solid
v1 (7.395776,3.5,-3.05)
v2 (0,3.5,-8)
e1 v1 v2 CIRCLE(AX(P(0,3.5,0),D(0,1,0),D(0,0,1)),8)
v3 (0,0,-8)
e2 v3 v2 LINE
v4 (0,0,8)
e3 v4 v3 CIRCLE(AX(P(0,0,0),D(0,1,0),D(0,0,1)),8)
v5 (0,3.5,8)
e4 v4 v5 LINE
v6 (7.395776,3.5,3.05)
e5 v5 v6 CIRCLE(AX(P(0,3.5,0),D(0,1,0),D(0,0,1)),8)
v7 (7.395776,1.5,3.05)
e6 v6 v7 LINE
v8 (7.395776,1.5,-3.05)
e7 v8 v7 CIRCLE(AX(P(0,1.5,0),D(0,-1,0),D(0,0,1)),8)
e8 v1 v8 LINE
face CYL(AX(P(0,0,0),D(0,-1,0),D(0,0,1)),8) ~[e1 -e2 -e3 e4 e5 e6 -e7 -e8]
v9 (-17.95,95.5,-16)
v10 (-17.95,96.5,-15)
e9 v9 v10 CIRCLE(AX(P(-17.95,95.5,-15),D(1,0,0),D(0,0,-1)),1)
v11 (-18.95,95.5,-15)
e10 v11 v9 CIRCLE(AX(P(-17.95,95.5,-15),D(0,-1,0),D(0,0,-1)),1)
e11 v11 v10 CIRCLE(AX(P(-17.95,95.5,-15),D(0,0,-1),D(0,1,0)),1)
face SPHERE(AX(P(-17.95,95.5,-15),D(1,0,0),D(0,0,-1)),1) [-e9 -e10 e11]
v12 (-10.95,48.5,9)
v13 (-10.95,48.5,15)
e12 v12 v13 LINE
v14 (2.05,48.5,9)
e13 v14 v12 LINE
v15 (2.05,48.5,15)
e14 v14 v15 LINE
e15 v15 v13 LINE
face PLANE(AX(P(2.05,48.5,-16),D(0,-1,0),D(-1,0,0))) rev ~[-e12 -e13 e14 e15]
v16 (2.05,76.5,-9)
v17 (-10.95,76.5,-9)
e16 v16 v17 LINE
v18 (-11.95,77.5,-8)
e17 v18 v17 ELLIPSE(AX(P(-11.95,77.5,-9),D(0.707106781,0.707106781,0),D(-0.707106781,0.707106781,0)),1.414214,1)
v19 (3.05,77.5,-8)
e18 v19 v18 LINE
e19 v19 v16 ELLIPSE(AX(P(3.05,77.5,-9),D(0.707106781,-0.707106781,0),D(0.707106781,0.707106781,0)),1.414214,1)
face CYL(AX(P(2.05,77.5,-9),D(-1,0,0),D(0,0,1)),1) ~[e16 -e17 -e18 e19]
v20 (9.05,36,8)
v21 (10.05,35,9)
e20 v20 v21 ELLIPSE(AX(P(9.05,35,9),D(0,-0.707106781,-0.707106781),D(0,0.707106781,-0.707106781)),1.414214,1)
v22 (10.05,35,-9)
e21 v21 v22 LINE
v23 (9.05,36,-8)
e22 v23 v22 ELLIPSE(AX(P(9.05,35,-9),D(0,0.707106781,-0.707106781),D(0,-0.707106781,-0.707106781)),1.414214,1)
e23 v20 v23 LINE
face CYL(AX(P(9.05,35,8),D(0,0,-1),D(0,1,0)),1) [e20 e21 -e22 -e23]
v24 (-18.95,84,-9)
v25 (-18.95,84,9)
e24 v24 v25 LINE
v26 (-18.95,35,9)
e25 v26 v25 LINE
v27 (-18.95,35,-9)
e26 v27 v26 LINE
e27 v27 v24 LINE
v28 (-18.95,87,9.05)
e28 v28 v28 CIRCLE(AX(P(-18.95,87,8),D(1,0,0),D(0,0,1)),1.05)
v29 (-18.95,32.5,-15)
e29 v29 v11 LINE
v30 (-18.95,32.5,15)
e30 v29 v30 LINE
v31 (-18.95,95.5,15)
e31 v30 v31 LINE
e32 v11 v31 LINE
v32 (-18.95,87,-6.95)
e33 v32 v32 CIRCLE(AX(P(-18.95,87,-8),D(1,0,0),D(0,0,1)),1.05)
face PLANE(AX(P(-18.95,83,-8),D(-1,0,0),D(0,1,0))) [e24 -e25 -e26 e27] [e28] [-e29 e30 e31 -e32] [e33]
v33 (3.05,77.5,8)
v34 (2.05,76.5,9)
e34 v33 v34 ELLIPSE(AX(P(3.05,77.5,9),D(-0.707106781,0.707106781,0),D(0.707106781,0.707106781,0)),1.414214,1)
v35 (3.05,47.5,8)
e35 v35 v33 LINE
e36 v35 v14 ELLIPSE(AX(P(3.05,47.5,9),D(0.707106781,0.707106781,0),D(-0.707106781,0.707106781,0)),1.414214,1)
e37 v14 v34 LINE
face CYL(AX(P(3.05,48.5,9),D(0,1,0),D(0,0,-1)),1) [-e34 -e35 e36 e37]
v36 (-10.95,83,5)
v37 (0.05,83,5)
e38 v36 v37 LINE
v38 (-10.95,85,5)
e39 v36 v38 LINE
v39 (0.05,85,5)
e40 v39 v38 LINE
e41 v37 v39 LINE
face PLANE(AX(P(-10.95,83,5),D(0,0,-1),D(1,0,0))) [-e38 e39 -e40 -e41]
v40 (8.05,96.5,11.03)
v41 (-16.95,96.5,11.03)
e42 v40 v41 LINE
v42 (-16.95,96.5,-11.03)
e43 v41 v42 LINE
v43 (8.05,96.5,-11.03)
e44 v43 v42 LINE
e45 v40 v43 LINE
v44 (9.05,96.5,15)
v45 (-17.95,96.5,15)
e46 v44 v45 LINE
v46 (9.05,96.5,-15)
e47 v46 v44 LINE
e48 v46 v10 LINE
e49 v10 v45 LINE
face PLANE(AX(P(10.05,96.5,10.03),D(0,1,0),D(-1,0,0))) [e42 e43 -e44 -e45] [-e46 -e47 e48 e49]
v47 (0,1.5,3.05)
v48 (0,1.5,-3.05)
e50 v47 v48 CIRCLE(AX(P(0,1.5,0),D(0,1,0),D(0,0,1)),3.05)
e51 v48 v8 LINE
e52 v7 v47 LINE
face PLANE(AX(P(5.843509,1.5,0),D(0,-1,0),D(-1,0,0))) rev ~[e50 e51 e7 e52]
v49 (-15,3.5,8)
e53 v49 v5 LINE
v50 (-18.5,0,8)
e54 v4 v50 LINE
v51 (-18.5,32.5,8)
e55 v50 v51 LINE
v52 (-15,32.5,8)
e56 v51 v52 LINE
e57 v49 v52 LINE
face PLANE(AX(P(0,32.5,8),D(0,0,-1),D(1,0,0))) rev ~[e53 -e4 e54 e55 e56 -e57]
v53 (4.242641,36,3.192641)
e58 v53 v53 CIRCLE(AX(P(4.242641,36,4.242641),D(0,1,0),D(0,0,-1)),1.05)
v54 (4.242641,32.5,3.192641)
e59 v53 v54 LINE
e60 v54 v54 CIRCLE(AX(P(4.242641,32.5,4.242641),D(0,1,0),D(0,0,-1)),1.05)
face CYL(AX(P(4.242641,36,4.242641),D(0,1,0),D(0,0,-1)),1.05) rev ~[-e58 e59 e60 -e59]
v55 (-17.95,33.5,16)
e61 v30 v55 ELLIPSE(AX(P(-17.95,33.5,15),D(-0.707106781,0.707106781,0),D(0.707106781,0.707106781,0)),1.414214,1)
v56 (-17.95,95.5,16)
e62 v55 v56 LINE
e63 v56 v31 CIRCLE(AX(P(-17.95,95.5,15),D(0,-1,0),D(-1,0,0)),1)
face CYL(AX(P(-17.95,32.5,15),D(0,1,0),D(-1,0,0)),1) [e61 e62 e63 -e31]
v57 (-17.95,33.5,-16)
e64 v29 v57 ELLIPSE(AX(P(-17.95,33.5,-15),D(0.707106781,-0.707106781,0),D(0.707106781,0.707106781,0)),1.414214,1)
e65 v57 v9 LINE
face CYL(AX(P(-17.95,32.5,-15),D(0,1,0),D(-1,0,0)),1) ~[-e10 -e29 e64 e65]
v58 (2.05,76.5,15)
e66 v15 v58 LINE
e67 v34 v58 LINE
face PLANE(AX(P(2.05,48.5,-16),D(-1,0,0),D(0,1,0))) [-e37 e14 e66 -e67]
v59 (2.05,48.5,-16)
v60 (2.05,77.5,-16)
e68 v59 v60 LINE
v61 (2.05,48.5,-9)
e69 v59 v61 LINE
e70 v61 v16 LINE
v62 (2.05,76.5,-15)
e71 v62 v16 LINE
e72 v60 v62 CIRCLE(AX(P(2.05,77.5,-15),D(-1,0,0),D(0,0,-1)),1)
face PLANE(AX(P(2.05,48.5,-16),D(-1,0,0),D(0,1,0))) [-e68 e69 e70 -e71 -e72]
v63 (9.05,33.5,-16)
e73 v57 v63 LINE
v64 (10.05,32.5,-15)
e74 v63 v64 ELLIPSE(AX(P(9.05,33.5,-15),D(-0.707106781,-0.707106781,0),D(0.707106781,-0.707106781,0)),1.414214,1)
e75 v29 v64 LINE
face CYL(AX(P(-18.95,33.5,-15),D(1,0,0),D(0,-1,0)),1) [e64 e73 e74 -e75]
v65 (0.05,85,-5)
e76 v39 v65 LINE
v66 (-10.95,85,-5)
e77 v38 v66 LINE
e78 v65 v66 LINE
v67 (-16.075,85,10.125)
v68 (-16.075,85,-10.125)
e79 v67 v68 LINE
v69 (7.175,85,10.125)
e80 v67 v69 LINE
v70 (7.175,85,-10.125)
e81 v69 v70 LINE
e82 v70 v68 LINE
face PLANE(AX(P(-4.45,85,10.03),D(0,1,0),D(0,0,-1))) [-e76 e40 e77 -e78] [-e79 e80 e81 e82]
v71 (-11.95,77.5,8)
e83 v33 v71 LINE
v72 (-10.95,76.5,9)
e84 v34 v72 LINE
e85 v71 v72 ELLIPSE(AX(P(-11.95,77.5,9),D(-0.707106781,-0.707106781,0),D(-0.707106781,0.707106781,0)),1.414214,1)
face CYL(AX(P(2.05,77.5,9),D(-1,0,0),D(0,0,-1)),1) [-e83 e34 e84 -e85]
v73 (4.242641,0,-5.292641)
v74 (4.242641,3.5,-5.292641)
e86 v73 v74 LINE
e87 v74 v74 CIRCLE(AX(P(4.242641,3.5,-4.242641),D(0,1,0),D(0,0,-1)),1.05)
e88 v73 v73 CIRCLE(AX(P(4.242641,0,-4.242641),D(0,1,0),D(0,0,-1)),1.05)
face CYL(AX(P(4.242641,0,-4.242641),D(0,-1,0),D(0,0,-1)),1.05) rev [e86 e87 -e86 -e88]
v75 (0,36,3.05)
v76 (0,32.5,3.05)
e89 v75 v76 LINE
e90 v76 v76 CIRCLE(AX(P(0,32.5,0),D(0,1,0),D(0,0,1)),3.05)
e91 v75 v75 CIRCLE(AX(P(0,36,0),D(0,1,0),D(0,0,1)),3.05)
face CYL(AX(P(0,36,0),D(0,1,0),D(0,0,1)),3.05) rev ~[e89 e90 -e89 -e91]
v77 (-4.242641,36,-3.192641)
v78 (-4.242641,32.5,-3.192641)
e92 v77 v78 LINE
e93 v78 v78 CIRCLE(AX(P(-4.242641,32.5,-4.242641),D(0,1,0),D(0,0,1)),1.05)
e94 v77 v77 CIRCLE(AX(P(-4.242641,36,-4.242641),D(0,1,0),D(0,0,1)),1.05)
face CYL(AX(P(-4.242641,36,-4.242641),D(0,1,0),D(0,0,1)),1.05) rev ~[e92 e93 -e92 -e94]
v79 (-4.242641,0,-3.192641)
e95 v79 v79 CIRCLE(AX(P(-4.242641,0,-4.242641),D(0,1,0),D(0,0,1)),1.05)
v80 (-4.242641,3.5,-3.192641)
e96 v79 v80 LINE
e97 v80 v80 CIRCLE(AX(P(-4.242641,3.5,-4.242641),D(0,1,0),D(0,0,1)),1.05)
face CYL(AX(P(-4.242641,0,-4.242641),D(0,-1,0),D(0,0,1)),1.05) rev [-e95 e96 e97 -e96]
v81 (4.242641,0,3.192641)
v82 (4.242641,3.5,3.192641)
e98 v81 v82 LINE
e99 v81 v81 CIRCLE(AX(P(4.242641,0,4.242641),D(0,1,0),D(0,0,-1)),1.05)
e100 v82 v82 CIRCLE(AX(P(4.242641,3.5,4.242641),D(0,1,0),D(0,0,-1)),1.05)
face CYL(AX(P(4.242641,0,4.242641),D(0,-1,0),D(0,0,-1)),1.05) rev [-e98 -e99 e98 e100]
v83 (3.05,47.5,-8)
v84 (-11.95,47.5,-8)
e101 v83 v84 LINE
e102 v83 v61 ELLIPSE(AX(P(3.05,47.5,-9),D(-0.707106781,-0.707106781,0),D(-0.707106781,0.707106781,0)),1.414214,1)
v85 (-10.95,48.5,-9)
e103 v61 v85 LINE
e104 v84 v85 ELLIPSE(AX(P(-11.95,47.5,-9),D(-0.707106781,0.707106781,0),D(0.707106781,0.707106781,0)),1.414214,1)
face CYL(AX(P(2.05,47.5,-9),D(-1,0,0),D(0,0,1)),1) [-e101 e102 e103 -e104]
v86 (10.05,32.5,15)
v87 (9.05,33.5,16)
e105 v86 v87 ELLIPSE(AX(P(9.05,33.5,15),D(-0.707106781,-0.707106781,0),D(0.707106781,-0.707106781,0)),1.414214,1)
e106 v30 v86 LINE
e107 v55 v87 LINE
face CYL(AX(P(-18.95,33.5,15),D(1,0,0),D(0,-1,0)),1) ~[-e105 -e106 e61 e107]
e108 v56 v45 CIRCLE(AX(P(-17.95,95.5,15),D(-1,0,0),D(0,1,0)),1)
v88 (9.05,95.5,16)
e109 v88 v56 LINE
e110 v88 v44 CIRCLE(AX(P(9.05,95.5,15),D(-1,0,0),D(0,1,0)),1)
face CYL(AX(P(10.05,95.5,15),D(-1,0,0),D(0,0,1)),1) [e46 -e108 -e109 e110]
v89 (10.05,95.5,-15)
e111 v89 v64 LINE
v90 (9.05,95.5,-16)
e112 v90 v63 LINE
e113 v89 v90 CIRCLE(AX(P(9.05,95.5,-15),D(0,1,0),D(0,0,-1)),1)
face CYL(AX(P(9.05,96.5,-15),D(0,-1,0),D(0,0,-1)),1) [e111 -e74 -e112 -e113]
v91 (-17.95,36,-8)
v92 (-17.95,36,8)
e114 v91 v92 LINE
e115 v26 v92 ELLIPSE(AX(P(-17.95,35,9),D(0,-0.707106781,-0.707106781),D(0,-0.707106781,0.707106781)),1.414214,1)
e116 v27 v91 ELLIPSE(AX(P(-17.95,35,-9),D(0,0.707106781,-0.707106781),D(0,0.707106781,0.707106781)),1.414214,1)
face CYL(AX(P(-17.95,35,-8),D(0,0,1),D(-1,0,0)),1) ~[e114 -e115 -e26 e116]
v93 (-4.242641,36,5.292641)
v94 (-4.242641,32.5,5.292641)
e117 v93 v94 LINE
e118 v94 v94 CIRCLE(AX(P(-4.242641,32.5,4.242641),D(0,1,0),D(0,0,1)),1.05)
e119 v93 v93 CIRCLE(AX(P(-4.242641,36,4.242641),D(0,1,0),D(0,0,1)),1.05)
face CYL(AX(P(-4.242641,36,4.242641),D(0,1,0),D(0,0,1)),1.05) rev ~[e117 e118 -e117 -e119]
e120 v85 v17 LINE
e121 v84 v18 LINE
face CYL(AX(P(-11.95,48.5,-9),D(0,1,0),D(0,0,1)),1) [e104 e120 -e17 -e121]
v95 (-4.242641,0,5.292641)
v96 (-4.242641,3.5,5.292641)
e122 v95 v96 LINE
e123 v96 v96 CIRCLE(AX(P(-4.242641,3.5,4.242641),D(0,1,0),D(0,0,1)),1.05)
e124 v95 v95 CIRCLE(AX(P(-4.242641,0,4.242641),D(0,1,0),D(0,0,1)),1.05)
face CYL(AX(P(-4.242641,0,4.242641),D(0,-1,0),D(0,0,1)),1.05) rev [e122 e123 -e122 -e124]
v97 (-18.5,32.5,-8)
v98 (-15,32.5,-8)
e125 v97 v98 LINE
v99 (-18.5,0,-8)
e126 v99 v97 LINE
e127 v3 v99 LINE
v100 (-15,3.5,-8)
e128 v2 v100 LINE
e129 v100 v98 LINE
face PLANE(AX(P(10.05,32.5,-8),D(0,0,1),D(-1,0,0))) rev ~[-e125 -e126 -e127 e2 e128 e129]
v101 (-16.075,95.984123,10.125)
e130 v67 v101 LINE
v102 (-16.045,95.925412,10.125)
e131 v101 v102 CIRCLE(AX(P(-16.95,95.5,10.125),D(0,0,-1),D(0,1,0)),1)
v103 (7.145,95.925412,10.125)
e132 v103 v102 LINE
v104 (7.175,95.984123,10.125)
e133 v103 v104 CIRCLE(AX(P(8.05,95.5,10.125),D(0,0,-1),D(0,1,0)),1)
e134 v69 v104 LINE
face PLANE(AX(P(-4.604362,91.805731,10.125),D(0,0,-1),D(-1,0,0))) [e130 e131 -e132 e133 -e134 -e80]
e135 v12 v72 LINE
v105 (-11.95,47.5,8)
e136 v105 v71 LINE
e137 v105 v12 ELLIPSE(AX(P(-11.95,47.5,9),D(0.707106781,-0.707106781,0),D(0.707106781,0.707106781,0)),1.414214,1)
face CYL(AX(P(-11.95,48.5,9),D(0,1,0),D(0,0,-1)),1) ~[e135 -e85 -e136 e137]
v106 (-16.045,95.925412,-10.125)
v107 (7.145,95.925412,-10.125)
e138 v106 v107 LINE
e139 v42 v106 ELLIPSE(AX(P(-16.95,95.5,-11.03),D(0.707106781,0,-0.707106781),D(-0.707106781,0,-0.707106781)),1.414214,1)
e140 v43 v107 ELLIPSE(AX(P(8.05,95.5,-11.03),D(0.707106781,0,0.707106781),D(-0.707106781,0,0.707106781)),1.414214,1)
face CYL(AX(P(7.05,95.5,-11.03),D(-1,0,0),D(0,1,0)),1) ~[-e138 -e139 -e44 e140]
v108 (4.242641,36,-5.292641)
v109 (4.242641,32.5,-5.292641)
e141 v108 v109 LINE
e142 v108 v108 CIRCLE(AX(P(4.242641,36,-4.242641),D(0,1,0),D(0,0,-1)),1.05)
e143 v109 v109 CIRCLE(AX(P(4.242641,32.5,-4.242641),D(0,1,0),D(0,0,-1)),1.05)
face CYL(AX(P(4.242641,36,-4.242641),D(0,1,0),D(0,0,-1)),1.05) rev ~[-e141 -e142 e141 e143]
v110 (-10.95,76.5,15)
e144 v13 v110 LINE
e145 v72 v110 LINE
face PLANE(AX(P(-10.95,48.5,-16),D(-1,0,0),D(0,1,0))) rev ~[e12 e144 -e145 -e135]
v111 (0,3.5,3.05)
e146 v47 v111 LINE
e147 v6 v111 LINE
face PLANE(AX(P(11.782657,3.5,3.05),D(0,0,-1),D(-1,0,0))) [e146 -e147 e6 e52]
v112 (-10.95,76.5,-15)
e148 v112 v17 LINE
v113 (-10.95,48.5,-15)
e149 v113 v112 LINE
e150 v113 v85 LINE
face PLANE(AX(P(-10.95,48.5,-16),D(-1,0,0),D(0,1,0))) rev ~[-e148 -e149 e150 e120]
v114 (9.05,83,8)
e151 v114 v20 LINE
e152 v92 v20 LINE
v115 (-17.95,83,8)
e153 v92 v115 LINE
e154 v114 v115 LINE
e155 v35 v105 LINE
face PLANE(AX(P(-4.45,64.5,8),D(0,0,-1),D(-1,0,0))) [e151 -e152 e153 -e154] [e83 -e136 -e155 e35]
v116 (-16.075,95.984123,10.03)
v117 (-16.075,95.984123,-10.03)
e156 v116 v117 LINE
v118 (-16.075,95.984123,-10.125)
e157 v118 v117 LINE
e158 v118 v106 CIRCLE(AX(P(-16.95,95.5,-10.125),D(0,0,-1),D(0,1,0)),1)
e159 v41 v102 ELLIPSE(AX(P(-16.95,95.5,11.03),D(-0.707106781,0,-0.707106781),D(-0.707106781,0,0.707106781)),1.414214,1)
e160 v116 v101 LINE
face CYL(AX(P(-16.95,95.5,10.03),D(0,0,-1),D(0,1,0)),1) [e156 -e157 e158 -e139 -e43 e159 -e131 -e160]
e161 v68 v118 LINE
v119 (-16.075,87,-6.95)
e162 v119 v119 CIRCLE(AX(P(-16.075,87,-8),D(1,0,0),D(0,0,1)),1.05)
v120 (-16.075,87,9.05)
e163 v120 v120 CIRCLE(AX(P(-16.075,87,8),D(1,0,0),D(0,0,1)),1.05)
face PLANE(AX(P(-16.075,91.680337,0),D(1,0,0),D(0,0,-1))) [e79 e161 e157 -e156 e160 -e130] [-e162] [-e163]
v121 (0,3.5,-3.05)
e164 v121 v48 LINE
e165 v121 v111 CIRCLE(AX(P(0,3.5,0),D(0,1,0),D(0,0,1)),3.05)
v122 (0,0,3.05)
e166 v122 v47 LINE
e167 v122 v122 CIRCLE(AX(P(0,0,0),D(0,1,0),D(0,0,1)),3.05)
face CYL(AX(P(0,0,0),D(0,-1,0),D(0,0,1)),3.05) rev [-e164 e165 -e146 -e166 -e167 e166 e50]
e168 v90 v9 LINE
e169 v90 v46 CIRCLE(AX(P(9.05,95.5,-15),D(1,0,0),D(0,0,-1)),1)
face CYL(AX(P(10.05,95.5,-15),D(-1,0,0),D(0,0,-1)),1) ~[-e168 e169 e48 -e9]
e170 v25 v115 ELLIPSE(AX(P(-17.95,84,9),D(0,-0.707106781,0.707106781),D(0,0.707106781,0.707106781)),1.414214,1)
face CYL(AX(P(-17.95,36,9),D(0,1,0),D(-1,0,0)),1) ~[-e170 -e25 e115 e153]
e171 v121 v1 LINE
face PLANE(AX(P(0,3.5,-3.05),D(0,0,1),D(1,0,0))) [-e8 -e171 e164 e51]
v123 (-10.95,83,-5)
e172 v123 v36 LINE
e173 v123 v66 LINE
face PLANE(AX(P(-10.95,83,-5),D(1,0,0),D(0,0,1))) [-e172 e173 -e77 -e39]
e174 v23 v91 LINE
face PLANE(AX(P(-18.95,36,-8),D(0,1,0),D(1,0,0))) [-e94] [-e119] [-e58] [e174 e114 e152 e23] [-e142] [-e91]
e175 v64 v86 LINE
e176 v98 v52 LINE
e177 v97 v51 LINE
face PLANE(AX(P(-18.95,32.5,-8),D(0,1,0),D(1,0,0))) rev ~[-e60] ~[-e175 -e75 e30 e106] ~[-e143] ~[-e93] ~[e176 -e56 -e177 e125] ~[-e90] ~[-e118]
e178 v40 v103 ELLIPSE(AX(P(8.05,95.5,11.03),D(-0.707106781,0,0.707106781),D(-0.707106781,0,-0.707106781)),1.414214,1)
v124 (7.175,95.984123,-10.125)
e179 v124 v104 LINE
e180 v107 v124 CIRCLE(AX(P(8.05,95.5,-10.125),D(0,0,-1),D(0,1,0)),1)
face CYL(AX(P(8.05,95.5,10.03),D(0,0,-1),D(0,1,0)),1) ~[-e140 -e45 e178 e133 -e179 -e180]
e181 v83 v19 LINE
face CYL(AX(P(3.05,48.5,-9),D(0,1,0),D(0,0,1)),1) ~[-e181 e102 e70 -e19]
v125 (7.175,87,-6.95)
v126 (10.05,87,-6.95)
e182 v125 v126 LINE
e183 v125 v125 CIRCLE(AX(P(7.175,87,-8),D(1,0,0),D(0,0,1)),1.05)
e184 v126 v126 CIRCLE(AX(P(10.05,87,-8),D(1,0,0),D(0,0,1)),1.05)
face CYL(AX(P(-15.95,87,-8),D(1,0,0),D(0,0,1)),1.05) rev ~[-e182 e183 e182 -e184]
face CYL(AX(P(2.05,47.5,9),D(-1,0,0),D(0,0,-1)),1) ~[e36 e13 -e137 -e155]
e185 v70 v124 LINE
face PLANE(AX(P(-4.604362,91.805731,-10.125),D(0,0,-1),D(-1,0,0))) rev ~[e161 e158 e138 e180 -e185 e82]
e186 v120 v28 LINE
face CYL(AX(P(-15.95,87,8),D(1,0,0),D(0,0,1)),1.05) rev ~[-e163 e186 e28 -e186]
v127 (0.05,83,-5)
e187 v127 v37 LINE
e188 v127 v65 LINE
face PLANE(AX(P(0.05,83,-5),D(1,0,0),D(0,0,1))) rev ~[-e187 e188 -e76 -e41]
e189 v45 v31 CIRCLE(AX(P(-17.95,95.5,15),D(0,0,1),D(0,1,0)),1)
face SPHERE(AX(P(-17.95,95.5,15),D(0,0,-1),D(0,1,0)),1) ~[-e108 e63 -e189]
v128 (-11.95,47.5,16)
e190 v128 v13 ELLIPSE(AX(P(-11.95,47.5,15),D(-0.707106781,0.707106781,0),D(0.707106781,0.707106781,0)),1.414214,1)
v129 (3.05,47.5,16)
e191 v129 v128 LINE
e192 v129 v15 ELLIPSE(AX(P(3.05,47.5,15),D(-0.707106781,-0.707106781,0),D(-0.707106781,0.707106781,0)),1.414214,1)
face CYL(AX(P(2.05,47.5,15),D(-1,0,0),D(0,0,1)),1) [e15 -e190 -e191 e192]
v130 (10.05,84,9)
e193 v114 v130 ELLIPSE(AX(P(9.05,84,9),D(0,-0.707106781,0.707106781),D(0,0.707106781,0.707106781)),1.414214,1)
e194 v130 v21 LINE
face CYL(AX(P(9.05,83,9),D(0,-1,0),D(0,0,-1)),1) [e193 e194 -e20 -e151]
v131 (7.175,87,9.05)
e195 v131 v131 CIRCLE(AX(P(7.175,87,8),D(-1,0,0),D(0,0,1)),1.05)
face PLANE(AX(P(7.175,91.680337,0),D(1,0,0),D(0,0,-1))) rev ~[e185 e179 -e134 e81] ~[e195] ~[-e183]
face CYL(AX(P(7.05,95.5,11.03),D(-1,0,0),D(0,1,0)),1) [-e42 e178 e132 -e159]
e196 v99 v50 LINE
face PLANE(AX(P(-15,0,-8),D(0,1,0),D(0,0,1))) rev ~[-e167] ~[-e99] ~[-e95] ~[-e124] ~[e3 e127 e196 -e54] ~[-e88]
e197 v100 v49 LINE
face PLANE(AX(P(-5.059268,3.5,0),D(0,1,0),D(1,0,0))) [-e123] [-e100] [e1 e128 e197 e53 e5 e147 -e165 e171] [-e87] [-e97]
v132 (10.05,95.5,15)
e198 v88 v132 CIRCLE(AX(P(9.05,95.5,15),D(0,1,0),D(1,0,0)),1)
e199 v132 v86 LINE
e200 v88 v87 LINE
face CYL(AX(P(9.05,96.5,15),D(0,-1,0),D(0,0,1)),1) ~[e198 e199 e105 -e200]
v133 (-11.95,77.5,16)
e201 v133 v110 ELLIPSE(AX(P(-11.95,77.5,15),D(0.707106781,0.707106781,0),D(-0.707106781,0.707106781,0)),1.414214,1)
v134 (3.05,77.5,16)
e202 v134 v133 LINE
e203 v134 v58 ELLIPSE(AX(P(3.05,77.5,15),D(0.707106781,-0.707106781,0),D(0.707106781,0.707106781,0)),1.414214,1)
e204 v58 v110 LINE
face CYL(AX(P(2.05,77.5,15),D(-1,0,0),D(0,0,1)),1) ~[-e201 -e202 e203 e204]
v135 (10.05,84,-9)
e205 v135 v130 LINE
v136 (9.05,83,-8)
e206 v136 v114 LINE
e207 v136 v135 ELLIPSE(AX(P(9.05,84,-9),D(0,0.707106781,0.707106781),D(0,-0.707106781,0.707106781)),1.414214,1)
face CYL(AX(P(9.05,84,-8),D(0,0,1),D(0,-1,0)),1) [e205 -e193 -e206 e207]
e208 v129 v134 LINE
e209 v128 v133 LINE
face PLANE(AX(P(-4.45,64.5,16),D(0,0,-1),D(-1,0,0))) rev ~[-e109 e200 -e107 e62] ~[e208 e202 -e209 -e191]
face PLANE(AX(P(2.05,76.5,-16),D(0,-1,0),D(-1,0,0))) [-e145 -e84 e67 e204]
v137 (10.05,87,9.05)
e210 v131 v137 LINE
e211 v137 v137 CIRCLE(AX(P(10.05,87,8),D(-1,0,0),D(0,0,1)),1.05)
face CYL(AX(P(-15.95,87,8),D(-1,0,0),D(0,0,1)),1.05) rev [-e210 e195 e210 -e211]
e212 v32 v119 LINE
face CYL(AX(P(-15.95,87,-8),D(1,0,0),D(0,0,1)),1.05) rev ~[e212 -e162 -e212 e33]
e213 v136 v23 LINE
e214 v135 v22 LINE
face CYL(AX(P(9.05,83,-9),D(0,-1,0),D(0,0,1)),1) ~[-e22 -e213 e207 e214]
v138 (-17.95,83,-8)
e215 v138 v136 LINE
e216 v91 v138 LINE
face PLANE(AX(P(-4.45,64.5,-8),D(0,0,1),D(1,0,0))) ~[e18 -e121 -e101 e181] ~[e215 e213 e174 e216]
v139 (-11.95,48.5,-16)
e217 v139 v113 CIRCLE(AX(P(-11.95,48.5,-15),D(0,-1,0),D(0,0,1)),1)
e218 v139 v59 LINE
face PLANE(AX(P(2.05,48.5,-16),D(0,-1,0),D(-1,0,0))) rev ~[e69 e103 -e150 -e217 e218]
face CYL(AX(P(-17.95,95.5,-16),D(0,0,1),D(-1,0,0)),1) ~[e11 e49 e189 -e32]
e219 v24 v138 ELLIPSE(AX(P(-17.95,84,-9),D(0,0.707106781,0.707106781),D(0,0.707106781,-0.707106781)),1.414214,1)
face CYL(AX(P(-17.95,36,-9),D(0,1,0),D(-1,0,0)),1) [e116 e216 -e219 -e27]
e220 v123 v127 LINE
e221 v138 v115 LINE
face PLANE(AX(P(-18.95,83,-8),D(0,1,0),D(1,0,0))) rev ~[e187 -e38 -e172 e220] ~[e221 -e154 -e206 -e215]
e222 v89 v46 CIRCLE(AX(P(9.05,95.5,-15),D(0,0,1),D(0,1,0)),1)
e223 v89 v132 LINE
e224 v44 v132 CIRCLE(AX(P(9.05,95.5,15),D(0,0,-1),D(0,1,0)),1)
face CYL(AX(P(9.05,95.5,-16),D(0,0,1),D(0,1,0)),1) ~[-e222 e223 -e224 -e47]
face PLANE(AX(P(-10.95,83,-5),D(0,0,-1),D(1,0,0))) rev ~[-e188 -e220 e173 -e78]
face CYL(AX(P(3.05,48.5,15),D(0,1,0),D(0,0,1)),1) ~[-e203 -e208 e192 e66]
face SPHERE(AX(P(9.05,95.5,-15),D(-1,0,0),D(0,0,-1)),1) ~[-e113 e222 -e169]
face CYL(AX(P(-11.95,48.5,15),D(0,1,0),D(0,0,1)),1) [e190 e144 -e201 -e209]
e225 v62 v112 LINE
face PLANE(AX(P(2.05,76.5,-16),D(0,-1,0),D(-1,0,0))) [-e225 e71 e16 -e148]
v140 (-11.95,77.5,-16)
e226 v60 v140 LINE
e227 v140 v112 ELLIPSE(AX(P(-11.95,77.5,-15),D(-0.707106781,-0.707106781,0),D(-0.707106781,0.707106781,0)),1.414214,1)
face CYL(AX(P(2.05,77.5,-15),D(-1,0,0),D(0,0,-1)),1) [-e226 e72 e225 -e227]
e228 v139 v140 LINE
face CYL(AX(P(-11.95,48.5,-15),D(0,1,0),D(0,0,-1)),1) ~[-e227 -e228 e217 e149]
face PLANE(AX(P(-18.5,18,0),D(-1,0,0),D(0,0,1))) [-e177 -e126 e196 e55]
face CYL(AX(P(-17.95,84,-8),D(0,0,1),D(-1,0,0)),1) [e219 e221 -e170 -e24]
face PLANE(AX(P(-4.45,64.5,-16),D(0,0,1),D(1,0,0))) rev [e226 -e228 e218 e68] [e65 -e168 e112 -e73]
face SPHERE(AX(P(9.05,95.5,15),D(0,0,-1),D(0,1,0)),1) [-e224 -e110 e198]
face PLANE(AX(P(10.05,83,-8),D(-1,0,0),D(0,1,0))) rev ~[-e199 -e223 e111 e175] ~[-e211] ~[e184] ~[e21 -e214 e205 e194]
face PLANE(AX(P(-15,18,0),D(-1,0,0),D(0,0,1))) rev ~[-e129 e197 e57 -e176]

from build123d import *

# Parameters (mm, degrees)
SKETCH_1_R          = 3.05
SKETCH_1_R_2        = 1.05
EXTRUDE_1_DEPTH     = 3.5
SKETCH_2_W          = 16
SKETCH_2_H          = 36
EXTRUDE_2_DEPTH     = 3.5
EXTRUDE_4_DEPTH     = 3.5
EXTRUDE_5_DEPTH     = 8
CUT_EXTRUDE_1_REACH = 104.026
SKETCH_6_W          = 2.03
SKETCH_6_H          = 11.5
EXTRUDE_6_REACH     = 103.73
SKETCH_7_W          = 3
SKETCH_7_H          = 11.5
EXTRUDE_7_REACH     = 103.229
SKETCH_8_W          = 0.45
SKETCH_8_H          = 3.5
EXTRUDE_8_REACH     = 103.229
SKETCH_9_W          = 29
SKETCH_9_H          = 2
SKETCH_10_R         = 1.05
CUT_EXTRUDE_2_DEPTH = 31.75
CUT_EXTRUDE_3_DEPTH = 2
CUT_EXTRUDE_4_REACH = 88.626
SKETCH_13_W         = 11
SKETCH_13_H         = 10
SKETCH_14_W         = 13
SKETCH_14_H         = 28
CUT_EXTRUDE_5_DEPTH = 104.418337349
FILLET_1_R          = 1
CUT_EXTRUDE_6_DEPTH = 11.625
CUT_EXTRUDE_7_DEPTH = 10.125
CUT_EXTRUDE_8_DEPTH = 11.55


with BuildPart() as part:
    # 草图1 → 凸台-拉伸1 (new body)
    with BuildSketch(Plane(origin=(0, 0, 0), x_dir=(1, 0, 0), z_dir=(0, 1, 0))):
        with BuildLine():
            Line((0, 8), (-15, 8))
            Line((-15, 8), (-15, -8))
            Line((-15, -8), (0, -8))
            ThreePointArc((0, -8), (8, 0), (0, 8))
        make_face()
        with Locations(Location((0, 0, 0), (0, 0, 270))):
            Circle(SKETCH_1_R, mode=Mode.SUBTRACT)
        with Locations(Location((-4.242640687, 4.242640687, 0), (0, 0, 270))):
            Circle(SKETCH_1_R_2, mode=Mode.SUBTRACT)
        with Locations(Location((-4.242640687, -4.242640687, 0), (0, 0, 270))):
            Circle(SKETCH_1_R_2, mode=Mode.SUBTRACT)
        with Locations(Location((4.242640687, -4.242640687, 0), (0, 0, 90))):
            Circle(SKETCH_1_R_2, mode=Mode.SUBTRACT)
        with Locations(Location((4.242640687, 4.242640687, 0), (0, 0, 90))):
            Circle(SKETCH_1_R_2, mode=Mode.SUBTRACT)
    extrude(amount=EXTRUDE_1_DEPTH)


with BuildPart() as body_2:
    # 镜向4: mirrored copy
    add(part.part.mirror(Plane.ZX.offset(18)))


with BuildPart() as part_1:
    add(part.part)

    add(body_2.part)  # 凸台-拉伸2 merges body 2
    # 草图2 → 凸台-拉伸2 (add)
    with BuildSketch(Plane.ZY.offset(15)):
        with Locations((0, 18)):
            Rectangle(SKETCH_2_W, SKETCH_2_H)
    extrude(amount=EXTRUDE_2_DEPTH)

    # 草图4 → 凸台-拉伸4 (add)
    with BuildSketch(Plane.XZ.offset(-32.5)):
        with BuildLine():
            Line((0, 8), (10.05, 8))
            Line((10.05, 8), (10.05, -8))
            Line((10.05, -8), (0, -8))
            ThreePointArc((0, -8), (8, 0), (0, 8))
        make_face()
    extrude(amount=-EXTRUDE_4_DEPTH)

    # 草图5 → 凸台-拉伸5 (add)
    with BuildSketch(Plane.XY.offset(8)):
        Polygon((10.05, 32.5), (-18.5, 32.5), (-18.95, 32.5), (-18.95, 96.5), (-18.5, 96.5), (10.05, 96.5), align=None)
    extrude_5 = extrude(amount=EXTRUDE_5_DEPTH)

    # 镜向5: 凸台-拉伸5 across plane
    add(extrude_5.mirror(Plane.XY))

    # 草图6 → 切除-拉伸1 (cut, up to next)
    with BuildSketch(Plane(origin=(10.05, 0, 0), x_dir=(0, 0, -1), z_dir=(1, 0, 0)), mode=Mode.PRIVATE) as cut_extrude_1_sk1:
        with Locations((-9.015, 90.75)):
            Rectangle(SKETCH_6_W, SKETCH_6_H)
    cut_extrude_1_tool1 = extrude(cut_extrude_1_sk1.sketch, amount=-CUT_EXTRUDE_1_REACH, mode=Mode.PRIVATE) & part_1.part
    # 草图6 → 切除-拉伸1 (cut, up to next)
    with BuildSketch(Plane(origin=(10.05, 0, 0), x_dir=(0, 0, -1), z_dir=(1, 0, 0)), mode=Mode.PRIVATE) as cut_extrude_1_sk2:
        with Locations((9.015, 90.75)):
            Rectangle(SKETCH_6_W, SKETCH_6_H)
    cut_extrude_1_tool2 = extrude(cut_extrude_1_sk2.sketch, amount=-CUT_EXTRUDE_1_REACH, mode=Mode.PRIVATE) & part_1.part
    add(cut_extrude_1_tool1.solids().sort_by_distance((10.05, 90.75, 9.015))[0], mode=Mode.SUBTRACT)
    add(cut_extrude_1_tool2.solids().sort_by_distance((10.05, 90.75, -9.015))[0], mode=Mode.SUBTRACT)

    # 草图7 → 凸台-拉伸6 (add, up to next)
    with BuildSketch(Plane(origin=(0, 0, 10.03), x_dir=(-1, 0, 0), z_dir=(0, 0, -1)), mode=Mode.PRIVATE) as extrude_6_sk1:
        with Locations((17.45, 90.75)):
            Rectangle(SKETCH_7_W, SKETCH_7_H)
    extrude_6_tool1 = extrude(extrude_6_sk1.sketch, amount=EXTRUDE_6_REACH, mode=Mode.PRIVATE) - part_1.part
    # 草图7 → 凸台-拉伸6 (add, up to next)
    with BuildSketch(Plane(origin=(0, 0, 10.03), x_dir=(-1, 0, 0), z_dir=(0, 0, -1)), mode=Mode.PRIVATE) as extrude_6_sk2:
        with Locations((-8.55, 90.75)):
            Rectangle(SKETCH_7_W, SKETCH_7_H)
    extrude_6_tool2 = extrude(extrude_6_sk2.sketch, amount=EXTRUDE_6_REACH, mode=Mode.PRIVATE) - part_1.part
    add(extrude_6_tool1.solids().sort_by_distance((-17.45, 90.75, 10.03))[0])
    add(extrude_6_tool2.solids().sort_by_distance((8.55, 90.75, 10.03))[0])

    # 草图8 → 凸台-拉伸7 (add, up to next)
    with BuildSketch(Plane.XY.offset(-8), mode=Mode.PRIVATE) as extrude_7_sk1:
        with Locations((-18.725, 34.25)):
            Rectangle(SKETCH_8_W, SKETCH_8_H)
    extrude_7_tool1 = extrude(extrude_7_sk1.sketch, amount=EXTRUDE_7_REACH, mode=Mode.PRIVATE) - part_1.part
    add(extrude_7_tool1.solids().sort_by_distance((-18.725, 34.25, -8))[0])

    # 草图9 → 凸台-拉伸8 (add, up to next)
    with BuildSketch(Plane.XY.offset(-8), mode=Mode.PRIVATE) as extrude_8_sk1:
        with Locations((-4.45, 84)):
            Rectangle(SKETCH_9_W, SKETCH_9_H)
    extrude_8_tool1 = extrude(extrude_8_sk1.sketch, amount=EXTRUDE_8_REACH, mode=Mode.PRIVATE) - part_1.part
    add(extrude_8_tool1.solids().sort_by_distance((-4.45, 84, -8))[0])

    # 草图10 → 切除-拉伸2 (cut, symmetric)
    with BuildSketch(Plane(origin=(-15.95, 0, 0), x_dir=(0, 0, -1), z_dir=(1, 0, 0))):
        with Locations(Location((-8, 87, 0), (0, 0, 180))):
            Circle(SKETCH_10_R)
        with Locations(Location((8, 87, 0), (0, 0, 180))):
            Circle(SKETCH_10_R)
    extrude(amount=CUT_EXTRUDE_2_DEPTH, both=True, mode=Mode.SUBTRACT)

    # 草图12 → 切除-拉伸3 (cut)
    with BuildSketch(Plane(origin=(0, 3.5, 0), x_dir=(1, 0, 0), z_dir=(0, 1, 0))):
        with BuildLine():
            Line((0, 3.05), (11.782657366, 3.05))
            Line((11.782657366, 3.05), (11.782657366, -3.05))
            Line((11.782657366, -3.05), (0, -3.05))
            ThreePointArc((0, -3.05), (3.05, 0), (0, 3.05))
        make_face()
    extrude(amount=-CUT_EXTRUDE_3_DEPTH, mode=Mode.SUBTRACT)

    # 草图13 → 切除-拉伸4 (cut, up to next)
    with BuildSketch(Plane.XZ.offset(-83), mode=Mode.PRIVATE) as cut_extrude_4_sk1:
        with Locations((-5.45, 0)):
            Rectangle(SKETCH_13_W, SKETCH_13_H)
    cut_extrude_4_tool1 = extrude(cut_extrude_4_sk1.sketch, amount=-CUT_EXTRUDE_4_REACH, mode=Mode.PRIVATE) & part_1.part
    add(cut_extrude_4_tool1.solids().sort_by_distance((-5.45, 83, 0))[0], mode=Mode.SUBTRACT)

    # 草图14 → 切除-拉伸5 (cut, through all)
    with BuildSketch(Plane(origin=(0, 0, -16), x_dir=(-1, 0, 0), z_dir=(0, 0, -1))):
        with Locations((4.45, 62.5)):
            Rectangle(SKETCH_14_W, SKETCH_14_H)
    extrude(amount=-CUT_EXTRUDE_5_DEPTH, mode=Mode.SUBTRACT)

    # 圆角1
    fillet_1_edges = [part_1.edges().sort_by_distance(p)[0] for p in [
        (-4.45, 96.5, -16),
        (10.05, 64.5, -16),
        (-4.45, 32.5, -16),
        (-18.95, 64.5, -16),
        (-4.45, 96.5, 10.03),
        (-4.45, 96.5, -10.03),
        (-15.95, 96.5, 0),
        (7.05, 96.5, 0),
        (-18.95, 36, 0),
        (-18.95, 59.5, 8),
        (-18.95, 59.5, -8),
        (-18.95, 83, 0),
        (10.05, 83, 0),
        (2.05, 62.5, 8),
        (2.05, 62.5, -8),
        (2.05, 62.5, 16),
        (-4.45, 76.5, 8),
        (-4.45, 76.5, -8),
        (-4.45, 76.5, 16),
        (-10.95, 62.5, 8),
        (-10.95, 62.5, -8),
        (-10.95, 62.5, 16),
        (-4.45, 48.5, 8),
        (-4.45, 48.5, -8),
        (-4.45, 48.5, 16),
        (-10.95, 62.5, -16),
        (-4.45, 76.5, -16),
        (10.05, 36, 0),
        (-18.95, 96.5, 0),
        (10.05, 59.5, 8),
        (10.05, 96.5, 0),
        (-4.45, 96.5, 16),
        (-18.95, 64.5, 16),
        (-4.45, 32.5, 16),
        (10.05, 64.5, 16),
        (10.05, 59.5, -8),
    ]]
    fillet(fillet_1_edges, radius=FILLET_1_R)

    # 草图16 → 切除-拉伸6 (cut, symmetric)
    with BuildSketch(Plane.ZY.offset(4.45)):
        Polygon((-10.03, 95.5), (-10.03, 98.360674074), (10.03, 98.360674074), (10.03, 95.5), (10.03, 85), (-10.03, 85), align=None)
    extrude(amount=CUT_EXTRUDE_6_DEPTH, both=True, mode=Mode.SUBTRACT)

    # 草图17 → 切除-拉伸7 (cut, symmetric)
    with BuildSketch(Plane.XY):
        Polygon((-16.075, 95.984122918), (-15.913726203, 99.204392549), (7.175, 98.048089827), (7.175, 95.984122918), (7.175, 85), (-16.075, 85), align=None)
    extrude(amount=CUT_EXTRUDE_7_DEPTH, both=True, mode=Mode.SUBTRACT)

    # 草图19 → 切除-拉伸8 (cut, symmetric)
    with BuildSketch(Plane(origin=(-4.45, 0, 0), x_dir=(0, 0, -1), z_dir=(1, 0, 0))):
        Polygon((-10.125, 95.984122918), (-10.125, 99.965715237), (10.09, 99.965715237), (10.125, 95.984122918), (10.125, 85), (-10.125, 85), align=None)
    extrude(amount=CUT_EXTRUDE_8_DEPTH, both=True, mode=Mode.SUBTRACT)


solid = part_1.part
